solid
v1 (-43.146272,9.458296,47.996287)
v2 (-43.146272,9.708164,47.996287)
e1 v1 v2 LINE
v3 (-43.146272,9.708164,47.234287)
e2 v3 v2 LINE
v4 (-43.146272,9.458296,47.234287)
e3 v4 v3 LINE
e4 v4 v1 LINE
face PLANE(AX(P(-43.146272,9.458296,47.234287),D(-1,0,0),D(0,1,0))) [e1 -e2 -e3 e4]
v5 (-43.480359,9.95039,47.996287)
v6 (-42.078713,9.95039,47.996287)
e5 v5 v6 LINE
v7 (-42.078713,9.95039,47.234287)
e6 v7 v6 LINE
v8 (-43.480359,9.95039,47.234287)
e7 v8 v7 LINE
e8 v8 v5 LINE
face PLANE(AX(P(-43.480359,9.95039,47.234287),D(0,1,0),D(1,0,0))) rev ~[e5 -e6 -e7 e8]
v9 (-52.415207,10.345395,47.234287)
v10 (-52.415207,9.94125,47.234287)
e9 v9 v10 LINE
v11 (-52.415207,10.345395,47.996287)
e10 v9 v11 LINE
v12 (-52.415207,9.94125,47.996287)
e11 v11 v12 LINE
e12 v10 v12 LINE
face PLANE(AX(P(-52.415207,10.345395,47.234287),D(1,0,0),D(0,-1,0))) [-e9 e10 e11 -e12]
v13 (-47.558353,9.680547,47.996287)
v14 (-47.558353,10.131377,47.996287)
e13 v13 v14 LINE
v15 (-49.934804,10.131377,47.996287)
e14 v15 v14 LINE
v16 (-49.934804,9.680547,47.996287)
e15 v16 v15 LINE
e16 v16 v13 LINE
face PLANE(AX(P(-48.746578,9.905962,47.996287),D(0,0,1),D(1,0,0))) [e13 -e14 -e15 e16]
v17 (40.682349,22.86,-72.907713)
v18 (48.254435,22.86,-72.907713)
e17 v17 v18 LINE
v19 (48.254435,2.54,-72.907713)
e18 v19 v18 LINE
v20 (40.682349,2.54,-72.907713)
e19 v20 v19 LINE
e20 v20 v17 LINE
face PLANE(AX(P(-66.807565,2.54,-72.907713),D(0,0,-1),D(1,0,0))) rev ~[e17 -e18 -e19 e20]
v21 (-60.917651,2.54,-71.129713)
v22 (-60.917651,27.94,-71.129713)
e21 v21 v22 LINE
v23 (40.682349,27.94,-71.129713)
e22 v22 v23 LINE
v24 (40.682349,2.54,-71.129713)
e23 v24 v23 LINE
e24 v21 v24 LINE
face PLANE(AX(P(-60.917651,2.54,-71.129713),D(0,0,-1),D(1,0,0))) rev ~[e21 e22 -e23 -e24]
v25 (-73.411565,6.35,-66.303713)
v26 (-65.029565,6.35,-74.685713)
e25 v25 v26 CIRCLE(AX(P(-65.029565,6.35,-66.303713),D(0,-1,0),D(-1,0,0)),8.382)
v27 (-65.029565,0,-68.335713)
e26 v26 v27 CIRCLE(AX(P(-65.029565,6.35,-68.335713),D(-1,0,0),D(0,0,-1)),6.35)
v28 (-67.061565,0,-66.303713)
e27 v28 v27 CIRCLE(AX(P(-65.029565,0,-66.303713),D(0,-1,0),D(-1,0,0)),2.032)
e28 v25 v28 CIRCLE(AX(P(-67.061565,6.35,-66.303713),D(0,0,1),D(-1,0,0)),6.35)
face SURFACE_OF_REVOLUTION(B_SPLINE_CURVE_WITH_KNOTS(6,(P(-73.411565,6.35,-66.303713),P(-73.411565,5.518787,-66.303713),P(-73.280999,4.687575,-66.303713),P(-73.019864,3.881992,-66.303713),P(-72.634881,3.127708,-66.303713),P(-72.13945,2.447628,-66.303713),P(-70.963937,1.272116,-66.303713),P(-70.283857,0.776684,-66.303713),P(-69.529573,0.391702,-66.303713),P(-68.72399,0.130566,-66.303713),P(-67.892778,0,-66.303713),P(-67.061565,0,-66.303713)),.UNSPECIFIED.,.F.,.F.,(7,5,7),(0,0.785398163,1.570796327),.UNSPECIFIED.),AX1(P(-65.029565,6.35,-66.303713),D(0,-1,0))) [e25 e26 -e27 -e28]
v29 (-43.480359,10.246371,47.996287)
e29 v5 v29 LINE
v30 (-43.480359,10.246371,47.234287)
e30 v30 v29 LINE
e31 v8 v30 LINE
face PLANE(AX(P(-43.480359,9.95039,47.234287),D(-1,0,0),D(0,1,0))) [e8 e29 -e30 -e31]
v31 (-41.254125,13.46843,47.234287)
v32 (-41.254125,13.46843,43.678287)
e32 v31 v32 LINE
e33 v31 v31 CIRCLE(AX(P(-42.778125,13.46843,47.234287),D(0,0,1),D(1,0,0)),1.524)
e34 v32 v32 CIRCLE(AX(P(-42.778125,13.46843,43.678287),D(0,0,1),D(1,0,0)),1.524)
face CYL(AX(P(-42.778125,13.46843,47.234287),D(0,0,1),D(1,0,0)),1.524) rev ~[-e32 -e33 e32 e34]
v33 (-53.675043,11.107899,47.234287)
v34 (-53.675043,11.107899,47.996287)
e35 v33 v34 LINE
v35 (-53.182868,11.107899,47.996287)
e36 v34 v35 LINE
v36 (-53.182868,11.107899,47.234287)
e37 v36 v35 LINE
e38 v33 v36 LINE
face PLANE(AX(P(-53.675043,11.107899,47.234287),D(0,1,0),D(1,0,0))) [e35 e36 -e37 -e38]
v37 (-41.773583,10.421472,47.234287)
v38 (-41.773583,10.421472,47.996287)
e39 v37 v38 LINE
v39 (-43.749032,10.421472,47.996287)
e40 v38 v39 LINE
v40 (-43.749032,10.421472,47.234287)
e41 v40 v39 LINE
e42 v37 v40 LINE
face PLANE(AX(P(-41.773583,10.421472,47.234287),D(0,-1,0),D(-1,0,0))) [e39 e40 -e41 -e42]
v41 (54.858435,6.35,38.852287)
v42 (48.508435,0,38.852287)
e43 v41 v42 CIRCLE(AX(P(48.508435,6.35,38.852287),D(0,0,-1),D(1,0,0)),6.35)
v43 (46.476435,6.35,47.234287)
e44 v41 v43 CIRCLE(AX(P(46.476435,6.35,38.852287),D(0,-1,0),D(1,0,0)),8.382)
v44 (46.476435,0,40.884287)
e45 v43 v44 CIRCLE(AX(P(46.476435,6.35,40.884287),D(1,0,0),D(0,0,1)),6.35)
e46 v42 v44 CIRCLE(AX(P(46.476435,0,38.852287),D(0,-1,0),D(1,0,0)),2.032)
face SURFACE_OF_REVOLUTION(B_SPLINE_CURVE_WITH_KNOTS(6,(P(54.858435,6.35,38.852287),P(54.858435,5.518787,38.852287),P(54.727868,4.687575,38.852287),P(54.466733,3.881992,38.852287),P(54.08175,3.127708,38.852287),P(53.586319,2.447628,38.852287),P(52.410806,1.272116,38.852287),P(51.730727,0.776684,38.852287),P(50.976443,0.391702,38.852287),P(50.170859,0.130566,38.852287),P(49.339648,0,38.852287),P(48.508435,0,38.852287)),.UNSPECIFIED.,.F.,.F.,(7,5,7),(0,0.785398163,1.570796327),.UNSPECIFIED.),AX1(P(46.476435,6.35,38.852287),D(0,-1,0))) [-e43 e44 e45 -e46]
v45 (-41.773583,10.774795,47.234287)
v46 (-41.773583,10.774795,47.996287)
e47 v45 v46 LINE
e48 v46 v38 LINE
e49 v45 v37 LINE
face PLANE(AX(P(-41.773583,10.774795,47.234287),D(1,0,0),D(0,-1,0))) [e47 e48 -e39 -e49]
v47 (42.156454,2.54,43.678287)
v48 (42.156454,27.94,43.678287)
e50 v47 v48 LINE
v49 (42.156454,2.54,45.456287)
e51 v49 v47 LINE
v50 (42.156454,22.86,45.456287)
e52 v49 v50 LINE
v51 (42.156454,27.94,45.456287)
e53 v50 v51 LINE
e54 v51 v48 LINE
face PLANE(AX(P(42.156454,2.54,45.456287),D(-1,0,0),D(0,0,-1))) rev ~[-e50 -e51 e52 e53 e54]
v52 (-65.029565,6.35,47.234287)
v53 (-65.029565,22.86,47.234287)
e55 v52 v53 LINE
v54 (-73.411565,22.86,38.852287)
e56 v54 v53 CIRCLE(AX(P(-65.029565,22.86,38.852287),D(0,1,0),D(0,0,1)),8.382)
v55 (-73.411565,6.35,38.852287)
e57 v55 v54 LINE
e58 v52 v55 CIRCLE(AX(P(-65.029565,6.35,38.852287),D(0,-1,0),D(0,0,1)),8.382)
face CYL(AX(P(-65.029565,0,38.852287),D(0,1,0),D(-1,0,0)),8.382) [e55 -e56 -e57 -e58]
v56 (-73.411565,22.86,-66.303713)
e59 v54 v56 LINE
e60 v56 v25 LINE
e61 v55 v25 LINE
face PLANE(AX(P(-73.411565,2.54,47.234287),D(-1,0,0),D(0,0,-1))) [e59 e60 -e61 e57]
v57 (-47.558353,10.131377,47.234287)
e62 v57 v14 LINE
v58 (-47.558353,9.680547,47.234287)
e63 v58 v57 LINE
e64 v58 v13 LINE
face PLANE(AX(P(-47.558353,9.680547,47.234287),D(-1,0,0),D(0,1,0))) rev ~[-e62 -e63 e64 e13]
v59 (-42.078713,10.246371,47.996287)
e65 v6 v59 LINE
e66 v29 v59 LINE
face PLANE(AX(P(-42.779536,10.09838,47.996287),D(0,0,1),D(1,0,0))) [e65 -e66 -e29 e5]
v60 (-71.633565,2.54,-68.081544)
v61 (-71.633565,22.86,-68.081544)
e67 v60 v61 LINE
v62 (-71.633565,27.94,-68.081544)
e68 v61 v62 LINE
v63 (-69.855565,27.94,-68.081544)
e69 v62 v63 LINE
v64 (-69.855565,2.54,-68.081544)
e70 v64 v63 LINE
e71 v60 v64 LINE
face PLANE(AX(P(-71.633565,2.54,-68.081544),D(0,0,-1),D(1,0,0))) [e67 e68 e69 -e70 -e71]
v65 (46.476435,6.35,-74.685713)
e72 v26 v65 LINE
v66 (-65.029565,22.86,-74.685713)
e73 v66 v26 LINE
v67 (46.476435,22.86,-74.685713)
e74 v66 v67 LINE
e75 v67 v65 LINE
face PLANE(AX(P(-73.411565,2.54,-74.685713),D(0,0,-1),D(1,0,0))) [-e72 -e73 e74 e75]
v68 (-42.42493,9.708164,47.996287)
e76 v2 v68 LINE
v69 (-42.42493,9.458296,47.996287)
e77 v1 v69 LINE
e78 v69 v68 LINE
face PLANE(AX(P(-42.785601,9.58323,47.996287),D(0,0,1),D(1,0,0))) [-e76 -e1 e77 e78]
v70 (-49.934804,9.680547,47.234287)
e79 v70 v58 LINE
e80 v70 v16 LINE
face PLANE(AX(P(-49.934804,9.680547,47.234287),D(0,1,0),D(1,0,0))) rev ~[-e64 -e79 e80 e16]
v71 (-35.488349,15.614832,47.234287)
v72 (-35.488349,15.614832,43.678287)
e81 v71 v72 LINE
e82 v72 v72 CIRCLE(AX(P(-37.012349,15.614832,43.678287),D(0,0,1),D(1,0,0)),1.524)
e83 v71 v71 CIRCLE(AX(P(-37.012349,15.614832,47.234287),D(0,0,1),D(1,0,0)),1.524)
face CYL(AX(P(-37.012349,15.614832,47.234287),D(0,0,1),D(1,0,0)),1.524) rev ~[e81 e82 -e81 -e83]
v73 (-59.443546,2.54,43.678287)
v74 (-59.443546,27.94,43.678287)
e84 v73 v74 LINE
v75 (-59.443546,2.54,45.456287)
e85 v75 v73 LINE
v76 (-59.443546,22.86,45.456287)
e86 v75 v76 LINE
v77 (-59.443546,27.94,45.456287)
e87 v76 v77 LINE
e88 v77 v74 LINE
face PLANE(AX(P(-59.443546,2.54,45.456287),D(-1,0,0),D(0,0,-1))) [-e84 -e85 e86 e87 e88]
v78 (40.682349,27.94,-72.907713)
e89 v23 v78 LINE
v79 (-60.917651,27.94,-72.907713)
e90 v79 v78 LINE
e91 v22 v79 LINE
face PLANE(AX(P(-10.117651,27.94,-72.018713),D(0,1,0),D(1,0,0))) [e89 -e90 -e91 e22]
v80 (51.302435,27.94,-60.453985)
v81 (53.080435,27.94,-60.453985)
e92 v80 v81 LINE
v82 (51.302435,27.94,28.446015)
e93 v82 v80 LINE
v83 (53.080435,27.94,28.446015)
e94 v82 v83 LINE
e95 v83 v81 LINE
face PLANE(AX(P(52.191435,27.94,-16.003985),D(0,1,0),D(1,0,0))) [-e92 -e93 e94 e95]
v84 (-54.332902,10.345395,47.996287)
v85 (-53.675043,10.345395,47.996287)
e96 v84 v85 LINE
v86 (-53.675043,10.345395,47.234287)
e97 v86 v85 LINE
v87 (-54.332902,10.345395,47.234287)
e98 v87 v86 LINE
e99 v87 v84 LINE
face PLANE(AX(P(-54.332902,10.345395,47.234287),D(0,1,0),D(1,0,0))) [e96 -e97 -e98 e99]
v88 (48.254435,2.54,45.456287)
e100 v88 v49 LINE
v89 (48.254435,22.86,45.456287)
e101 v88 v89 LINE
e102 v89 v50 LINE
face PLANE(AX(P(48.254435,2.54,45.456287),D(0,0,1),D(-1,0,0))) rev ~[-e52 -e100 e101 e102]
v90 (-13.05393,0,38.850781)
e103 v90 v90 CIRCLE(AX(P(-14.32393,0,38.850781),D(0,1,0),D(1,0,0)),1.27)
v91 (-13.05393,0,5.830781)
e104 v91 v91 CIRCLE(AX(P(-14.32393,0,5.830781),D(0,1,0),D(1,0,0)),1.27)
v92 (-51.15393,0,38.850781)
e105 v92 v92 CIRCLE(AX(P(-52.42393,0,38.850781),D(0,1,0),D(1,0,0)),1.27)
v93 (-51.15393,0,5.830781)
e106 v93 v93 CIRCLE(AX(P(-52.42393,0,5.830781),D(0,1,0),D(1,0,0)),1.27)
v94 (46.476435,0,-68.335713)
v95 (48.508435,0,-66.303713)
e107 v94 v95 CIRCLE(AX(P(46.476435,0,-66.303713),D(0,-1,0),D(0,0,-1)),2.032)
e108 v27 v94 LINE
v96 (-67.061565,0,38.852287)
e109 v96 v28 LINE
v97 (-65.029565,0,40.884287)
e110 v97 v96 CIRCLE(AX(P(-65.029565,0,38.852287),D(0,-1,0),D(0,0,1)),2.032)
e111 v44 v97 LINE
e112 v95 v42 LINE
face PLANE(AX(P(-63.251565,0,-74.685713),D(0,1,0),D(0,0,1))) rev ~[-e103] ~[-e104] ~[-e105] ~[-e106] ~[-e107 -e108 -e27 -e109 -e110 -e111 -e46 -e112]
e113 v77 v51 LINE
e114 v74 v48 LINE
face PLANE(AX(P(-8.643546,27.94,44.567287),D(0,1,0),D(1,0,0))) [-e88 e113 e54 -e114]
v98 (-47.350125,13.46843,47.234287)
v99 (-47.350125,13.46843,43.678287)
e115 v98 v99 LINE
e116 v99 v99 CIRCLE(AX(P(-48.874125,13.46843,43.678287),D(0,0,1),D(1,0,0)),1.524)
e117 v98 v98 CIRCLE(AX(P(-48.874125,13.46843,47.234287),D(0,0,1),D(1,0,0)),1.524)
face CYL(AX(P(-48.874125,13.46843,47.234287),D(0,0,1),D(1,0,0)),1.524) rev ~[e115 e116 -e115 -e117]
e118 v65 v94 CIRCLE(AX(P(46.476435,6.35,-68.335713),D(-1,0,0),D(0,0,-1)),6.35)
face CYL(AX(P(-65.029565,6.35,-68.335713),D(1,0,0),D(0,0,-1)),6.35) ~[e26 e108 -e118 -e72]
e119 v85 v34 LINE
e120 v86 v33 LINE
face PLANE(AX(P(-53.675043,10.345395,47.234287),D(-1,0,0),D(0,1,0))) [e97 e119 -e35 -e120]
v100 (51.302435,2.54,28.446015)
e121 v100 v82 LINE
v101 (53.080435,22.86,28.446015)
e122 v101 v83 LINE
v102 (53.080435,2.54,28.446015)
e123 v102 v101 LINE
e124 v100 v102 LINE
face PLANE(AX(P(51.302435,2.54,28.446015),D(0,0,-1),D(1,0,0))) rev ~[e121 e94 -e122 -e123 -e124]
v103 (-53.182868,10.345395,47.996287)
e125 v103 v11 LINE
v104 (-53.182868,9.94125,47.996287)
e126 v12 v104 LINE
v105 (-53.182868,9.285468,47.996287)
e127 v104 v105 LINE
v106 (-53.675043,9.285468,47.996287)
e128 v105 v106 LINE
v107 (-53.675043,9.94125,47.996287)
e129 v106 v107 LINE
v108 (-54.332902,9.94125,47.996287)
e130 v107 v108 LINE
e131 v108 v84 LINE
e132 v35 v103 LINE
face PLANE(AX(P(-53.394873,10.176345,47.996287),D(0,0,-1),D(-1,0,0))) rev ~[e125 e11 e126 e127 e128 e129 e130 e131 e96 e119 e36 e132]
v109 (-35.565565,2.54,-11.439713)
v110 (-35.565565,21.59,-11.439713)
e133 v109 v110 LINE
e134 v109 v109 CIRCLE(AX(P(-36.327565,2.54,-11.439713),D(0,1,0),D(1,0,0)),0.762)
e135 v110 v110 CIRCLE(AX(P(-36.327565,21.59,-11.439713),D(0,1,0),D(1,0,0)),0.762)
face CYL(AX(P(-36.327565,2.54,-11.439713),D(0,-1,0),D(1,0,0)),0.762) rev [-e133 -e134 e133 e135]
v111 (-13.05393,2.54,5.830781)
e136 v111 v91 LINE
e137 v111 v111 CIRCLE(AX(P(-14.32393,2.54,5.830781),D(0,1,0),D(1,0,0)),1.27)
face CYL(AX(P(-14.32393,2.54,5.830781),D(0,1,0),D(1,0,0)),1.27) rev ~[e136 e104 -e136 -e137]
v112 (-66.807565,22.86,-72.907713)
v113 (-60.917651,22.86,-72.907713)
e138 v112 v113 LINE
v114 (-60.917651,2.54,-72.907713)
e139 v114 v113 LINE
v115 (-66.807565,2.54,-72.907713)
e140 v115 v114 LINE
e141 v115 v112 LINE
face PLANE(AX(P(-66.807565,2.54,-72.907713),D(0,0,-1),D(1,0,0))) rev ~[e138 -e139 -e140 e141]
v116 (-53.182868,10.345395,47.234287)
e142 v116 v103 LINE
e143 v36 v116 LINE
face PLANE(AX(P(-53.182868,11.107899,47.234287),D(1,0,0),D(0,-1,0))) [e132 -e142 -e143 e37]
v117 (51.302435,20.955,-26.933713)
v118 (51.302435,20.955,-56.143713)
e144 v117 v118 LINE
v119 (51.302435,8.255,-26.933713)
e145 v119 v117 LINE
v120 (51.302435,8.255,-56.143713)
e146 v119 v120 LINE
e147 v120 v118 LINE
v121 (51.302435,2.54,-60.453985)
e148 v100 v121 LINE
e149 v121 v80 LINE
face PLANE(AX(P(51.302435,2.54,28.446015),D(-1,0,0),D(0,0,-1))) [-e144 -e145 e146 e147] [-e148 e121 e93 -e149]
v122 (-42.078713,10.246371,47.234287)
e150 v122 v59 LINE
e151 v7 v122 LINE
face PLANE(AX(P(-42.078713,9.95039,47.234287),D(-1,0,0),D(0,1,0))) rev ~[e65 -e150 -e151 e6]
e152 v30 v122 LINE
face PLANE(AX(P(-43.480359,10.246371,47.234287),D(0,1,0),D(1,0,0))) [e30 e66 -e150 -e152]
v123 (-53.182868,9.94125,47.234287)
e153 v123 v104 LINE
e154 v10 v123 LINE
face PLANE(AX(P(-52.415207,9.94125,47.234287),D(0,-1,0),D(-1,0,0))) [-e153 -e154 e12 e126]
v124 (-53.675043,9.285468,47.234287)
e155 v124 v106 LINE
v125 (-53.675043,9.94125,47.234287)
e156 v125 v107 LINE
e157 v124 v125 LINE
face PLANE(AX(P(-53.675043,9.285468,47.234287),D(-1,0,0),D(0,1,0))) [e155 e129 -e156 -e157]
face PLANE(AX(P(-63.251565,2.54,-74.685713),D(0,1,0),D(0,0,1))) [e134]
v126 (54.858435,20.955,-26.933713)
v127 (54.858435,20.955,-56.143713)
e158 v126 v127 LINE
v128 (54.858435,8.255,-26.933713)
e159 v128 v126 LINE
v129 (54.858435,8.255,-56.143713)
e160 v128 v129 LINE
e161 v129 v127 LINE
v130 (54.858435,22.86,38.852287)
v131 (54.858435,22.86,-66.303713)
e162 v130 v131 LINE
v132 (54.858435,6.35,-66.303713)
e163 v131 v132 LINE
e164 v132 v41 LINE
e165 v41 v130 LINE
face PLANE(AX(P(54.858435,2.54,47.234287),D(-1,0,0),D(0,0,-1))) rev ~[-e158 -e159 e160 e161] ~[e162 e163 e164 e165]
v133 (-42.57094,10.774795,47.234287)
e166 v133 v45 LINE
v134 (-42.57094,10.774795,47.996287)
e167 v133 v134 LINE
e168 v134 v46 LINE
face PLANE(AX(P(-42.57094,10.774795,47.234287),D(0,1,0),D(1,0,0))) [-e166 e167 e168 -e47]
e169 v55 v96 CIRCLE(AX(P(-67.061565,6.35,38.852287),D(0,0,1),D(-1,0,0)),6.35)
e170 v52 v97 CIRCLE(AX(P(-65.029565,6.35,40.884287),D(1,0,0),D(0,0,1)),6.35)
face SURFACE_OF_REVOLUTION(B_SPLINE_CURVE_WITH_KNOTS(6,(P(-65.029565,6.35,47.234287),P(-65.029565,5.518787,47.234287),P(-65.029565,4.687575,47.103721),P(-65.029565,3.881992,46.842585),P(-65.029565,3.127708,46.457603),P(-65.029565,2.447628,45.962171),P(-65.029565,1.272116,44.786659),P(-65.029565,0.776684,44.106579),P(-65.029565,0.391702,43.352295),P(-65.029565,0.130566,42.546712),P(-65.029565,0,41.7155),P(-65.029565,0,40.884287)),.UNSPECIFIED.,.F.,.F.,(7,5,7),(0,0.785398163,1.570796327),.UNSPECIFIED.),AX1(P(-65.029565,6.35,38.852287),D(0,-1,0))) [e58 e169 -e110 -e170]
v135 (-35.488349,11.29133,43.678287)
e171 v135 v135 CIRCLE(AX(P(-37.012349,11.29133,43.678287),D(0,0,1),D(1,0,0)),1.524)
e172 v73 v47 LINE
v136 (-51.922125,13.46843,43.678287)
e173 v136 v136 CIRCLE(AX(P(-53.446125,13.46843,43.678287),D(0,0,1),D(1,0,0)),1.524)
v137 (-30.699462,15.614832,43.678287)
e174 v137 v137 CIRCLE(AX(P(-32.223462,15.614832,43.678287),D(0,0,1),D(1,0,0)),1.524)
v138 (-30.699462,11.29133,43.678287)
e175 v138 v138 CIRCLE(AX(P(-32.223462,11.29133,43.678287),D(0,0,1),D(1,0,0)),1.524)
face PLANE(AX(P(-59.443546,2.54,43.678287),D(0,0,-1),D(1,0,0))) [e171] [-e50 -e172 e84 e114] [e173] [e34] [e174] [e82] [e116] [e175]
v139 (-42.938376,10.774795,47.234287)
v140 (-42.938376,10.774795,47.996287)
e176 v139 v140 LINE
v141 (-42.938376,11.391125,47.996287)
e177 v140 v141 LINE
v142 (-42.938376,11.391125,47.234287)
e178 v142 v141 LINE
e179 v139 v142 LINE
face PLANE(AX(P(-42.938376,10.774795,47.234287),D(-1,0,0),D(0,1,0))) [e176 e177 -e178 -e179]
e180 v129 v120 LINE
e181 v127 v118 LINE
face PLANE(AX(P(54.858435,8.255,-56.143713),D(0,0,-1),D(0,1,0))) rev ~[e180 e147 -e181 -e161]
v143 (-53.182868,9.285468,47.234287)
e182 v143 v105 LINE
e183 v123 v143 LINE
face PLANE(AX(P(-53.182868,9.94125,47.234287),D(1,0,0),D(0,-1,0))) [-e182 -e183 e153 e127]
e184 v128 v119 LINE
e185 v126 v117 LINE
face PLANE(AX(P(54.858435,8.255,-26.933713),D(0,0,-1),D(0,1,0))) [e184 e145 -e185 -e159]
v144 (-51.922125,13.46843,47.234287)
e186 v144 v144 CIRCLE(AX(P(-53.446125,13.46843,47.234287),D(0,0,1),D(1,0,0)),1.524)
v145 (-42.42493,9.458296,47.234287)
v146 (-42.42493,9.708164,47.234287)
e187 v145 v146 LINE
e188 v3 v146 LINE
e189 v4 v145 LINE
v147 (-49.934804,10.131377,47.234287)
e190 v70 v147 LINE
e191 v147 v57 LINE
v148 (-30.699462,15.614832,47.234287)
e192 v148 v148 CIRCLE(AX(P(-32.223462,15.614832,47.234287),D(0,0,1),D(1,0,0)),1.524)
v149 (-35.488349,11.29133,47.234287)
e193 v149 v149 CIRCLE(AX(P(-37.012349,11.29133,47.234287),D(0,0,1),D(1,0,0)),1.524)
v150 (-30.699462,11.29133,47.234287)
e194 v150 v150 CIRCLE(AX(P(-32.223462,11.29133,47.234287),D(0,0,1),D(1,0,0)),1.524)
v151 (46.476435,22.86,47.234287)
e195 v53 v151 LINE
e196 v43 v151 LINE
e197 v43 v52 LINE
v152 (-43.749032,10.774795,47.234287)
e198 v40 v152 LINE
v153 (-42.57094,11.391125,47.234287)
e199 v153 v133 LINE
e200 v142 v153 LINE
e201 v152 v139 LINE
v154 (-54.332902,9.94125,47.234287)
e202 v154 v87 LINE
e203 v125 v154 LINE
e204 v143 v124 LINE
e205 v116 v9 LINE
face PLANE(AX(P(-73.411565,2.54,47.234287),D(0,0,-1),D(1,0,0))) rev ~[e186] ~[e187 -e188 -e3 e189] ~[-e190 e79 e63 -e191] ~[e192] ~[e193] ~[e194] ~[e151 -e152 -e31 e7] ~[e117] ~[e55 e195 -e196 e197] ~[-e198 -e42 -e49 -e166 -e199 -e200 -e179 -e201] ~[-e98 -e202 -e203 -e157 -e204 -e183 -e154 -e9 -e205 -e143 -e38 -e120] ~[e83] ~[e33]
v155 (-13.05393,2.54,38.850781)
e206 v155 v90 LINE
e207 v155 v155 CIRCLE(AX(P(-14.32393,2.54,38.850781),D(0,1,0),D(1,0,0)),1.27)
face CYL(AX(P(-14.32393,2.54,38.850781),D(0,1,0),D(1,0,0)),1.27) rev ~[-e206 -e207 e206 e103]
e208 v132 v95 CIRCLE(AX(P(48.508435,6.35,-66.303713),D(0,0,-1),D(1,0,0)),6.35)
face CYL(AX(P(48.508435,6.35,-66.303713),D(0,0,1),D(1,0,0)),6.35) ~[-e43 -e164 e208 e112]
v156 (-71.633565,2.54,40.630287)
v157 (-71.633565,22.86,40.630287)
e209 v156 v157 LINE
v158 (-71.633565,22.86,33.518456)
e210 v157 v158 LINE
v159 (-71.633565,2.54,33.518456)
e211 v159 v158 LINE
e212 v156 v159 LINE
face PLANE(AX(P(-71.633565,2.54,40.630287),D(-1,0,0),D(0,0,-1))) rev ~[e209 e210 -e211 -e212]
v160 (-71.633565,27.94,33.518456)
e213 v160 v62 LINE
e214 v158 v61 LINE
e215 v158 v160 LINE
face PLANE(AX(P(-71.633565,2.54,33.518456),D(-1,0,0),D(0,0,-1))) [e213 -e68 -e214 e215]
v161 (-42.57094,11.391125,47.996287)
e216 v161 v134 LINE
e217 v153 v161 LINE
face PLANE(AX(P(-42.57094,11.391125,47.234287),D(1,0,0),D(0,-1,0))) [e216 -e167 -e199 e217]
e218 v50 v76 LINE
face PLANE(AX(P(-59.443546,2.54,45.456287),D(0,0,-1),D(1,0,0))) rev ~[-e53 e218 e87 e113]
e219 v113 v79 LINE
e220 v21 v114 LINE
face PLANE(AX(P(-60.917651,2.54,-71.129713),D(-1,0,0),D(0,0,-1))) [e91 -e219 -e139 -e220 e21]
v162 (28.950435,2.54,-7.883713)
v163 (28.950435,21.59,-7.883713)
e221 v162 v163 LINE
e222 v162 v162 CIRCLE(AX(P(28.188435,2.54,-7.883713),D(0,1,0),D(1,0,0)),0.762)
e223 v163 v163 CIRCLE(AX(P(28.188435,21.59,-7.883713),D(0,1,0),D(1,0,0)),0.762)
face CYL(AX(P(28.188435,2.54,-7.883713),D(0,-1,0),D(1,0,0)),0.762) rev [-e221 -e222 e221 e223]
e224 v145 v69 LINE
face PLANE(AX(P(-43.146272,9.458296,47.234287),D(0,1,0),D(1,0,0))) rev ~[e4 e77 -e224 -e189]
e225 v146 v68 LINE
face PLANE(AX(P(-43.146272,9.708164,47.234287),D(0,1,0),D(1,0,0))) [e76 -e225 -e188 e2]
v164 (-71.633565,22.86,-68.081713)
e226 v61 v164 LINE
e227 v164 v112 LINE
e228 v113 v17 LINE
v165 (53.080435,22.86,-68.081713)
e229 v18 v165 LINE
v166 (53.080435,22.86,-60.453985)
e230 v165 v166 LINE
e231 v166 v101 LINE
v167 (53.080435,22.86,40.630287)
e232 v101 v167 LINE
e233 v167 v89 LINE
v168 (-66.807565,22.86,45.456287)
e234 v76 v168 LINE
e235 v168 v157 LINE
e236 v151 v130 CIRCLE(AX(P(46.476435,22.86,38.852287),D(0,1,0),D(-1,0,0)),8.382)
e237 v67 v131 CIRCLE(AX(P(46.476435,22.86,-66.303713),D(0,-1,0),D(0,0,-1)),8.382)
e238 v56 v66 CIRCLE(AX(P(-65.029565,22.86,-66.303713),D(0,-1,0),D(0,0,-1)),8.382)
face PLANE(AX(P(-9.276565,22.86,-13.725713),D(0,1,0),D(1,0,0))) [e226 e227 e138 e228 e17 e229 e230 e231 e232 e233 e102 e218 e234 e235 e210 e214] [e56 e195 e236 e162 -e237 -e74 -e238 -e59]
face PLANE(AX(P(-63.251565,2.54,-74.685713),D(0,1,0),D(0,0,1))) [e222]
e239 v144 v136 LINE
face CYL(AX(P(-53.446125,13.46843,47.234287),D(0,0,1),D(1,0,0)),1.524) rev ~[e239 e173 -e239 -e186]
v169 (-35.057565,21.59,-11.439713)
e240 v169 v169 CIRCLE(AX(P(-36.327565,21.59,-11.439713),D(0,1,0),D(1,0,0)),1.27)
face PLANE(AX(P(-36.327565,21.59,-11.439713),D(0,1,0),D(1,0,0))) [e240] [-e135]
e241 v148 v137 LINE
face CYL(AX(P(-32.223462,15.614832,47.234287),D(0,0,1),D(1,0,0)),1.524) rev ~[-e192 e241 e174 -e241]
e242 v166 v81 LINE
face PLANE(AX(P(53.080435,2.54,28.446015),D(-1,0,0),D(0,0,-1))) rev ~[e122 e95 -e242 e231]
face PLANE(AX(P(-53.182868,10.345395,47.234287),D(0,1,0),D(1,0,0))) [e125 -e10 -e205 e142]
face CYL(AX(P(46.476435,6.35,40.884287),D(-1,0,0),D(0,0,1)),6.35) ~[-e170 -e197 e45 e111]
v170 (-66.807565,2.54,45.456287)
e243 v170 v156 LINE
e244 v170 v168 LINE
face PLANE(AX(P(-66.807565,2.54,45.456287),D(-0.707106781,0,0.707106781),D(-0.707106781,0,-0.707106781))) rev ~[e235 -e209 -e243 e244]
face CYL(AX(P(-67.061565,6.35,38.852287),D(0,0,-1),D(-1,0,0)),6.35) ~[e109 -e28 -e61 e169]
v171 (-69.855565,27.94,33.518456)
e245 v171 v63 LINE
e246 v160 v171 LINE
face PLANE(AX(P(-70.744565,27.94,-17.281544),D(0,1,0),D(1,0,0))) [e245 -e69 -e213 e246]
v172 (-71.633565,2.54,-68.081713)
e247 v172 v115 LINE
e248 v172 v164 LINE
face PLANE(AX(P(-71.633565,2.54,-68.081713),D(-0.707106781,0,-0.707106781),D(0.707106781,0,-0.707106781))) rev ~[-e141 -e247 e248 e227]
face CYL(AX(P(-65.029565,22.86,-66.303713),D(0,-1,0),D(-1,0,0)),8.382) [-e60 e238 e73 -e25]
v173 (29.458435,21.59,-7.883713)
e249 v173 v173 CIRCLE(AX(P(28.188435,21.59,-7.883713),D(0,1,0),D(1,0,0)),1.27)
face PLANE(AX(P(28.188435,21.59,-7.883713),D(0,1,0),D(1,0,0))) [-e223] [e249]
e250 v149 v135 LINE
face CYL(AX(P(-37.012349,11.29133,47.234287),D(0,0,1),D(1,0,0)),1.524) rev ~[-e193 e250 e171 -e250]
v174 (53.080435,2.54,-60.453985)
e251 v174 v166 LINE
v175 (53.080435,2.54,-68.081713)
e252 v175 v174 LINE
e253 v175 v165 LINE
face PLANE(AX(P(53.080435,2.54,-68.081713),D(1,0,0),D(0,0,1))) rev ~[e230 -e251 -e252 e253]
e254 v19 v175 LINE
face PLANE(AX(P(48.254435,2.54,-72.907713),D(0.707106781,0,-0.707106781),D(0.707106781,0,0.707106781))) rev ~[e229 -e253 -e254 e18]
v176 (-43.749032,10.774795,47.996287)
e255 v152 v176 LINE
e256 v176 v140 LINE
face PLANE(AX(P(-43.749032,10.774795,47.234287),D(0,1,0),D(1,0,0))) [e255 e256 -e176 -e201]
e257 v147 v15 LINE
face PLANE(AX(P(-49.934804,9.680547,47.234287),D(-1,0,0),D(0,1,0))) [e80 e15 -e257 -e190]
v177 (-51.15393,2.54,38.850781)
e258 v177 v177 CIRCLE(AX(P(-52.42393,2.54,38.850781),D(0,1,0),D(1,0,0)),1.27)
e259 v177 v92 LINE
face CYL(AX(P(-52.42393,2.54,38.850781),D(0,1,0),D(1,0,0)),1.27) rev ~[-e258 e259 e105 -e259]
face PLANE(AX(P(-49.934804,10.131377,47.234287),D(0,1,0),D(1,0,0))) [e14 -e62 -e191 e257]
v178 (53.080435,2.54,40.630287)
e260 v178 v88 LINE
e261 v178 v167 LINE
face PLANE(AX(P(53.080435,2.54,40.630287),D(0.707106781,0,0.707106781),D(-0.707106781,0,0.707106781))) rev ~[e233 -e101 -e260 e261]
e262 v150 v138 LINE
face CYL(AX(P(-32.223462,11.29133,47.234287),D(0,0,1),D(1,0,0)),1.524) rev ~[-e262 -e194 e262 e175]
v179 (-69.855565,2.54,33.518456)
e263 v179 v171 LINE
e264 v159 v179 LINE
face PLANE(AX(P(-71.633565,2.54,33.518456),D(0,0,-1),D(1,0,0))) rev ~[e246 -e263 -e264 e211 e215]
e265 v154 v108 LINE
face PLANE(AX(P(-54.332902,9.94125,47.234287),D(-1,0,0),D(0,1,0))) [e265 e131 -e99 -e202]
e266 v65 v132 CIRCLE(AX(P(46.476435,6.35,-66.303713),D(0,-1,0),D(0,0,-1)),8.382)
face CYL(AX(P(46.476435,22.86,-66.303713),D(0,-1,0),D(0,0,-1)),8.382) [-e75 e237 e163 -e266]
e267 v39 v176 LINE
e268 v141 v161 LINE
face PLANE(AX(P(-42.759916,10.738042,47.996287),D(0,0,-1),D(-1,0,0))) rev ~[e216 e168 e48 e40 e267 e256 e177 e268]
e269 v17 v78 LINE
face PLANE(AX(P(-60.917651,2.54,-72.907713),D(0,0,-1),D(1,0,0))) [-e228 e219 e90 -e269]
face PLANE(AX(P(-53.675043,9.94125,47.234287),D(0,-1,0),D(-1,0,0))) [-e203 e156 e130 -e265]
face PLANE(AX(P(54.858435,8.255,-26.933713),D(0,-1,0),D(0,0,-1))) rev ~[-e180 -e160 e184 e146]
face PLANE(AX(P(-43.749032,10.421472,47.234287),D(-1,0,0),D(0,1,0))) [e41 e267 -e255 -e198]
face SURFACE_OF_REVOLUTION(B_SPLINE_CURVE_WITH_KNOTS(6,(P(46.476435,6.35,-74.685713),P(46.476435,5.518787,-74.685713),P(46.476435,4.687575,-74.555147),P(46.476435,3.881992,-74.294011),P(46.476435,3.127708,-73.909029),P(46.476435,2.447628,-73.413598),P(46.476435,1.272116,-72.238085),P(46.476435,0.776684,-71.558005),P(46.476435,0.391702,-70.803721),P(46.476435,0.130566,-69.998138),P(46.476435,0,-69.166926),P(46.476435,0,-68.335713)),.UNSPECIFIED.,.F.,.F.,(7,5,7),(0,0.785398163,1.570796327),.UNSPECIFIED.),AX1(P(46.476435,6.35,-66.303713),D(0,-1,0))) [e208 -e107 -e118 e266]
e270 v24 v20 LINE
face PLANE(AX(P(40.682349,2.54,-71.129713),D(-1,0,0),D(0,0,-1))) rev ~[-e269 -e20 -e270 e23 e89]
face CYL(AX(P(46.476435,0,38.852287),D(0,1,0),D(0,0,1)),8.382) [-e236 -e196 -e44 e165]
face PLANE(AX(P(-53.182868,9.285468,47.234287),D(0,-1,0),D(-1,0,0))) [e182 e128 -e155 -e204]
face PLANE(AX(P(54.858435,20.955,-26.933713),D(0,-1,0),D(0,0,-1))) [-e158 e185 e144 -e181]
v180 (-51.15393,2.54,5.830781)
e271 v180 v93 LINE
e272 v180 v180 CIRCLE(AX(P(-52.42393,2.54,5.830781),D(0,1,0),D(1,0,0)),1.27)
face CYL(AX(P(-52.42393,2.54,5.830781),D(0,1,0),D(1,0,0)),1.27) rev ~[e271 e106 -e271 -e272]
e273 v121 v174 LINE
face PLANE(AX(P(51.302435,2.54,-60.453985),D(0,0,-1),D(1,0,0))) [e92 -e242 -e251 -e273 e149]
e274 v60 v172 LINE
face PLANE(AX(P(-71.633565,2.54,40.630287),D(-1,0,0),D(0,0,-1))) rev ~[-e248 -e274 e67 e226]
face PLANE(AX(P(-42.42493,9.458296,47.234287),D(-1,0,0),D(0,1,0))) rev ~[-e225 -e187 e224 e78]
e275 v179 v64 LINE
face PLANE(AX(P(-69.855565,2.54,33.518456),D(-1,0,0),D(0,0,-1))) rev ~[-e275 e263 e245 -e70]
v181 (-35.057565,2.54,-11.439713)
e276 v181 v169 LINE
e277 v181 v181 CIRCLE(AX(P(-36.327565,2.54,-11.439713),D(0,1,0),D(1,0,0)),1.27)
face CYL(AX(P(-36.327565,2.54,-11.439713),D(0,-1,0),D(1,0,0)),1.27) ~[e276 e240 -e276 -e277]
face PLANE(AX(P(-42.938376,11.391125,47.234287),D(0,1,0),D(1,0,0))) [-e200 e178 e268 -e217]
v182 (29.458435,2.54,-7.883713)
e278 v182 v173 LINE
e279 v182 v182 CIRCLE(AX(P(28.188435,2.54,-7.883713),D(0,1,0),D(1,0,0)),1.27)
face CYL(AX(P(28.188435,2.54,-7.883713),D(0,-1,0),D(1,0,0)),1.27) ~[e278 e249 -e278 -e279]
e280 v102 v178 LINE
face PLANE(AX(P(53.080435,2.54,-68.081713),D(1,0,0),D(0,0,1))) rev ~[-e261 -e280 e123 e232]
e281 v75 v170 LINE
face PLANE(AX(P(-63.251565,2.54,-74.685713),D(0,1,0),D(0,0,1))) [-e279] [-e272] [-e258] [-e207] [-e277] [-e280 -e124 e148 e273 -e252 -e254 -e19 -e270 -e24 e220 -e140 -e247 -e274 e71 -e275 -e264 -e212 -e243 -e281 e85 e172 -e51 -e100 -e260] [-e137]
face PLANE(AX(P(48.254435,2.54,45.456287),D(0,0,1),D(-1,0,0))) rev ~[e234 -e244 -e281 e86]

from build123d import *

# Parameters (mm, degrees)
SKETCH1_W            = 107.95
SKETCH1_H            = 101.6
BOSS_EXTRUDE1_DEPTH  = 2.54
SKETCH17_W           = 107.95
SKETCH17_H           = 2.54
BOSS_EXTRUDE11_DEPTH = 10.16
SKETCH20_W           = 111.76
SKETCH20_H           = 2.54
BOSS_EXTRUDE12_DEPTH = 10.16
SKETCH21_W           = 118.11
SKETCH21_H           = 2.54
BOSS_EXTRUDE13_DEPTH = 10.16
SKETCH22_W           = 121.92
SKETCH22_H           = 2.54
BOSS_EXTRUDE14_DEPTH = 10.16
SKETCH26_W           = 128.27
SKETCH26_H           = 121.92
BOSS_EXTRUDE18_DEPTH = 20.32
FILLET9_R            = 8.382
FILLET10_R           = 8.382
FILLET11_R           = 8.382
SKETCH28_W           = 101.6
SKETCH28_H           = 1.778
BOSS_EXTRUDE21_DEPTH = 25.4
SKETCH29_W           = 1.778
SKETCH29_H           = 88.9
BOSS_EXTRUDE22_DEPTH = 25.4
FILLET21_R           = 8.382
SKETCH30_W           = 101.6
SKETCH30_H           = 1.778
BOSS_EXTRUDE23_DEPTH = 25.4
SKETCH31_W           = 1.778
SKETCH31_H           = 101.6
BOSS_EXTRUDE24_DEPTH = 25.4
SKETCH32_R           = 1.524
CUT_EXTRUDE1_DEPTH   = 3.556
FILLET22_R           = 6.35
SKETCH34_W           = 2.376451265
SKETCH34_H           = 0.450830227
BOSS_EXTRUDE26_DEPTH = 0.762
BOSS_EXTRUDE27_DEPTH = 0.762
BOSS_EXTRUDE28_DEPTH = 0.762
SKETCH37_W           = 1.40164535
SKETCH37_H           = 0.295981153
BOSS_EXTRUDE29_DEPTH = 0.762
SKETCH38_W           = 0.721341472
SKETCH38_H           = 0.249868222
BOSS_EXTRUDE30_DEPTH = 0.762
SKETCH4_R            = 1.27
SKETCH4_R_2          = 0.762
BOSS_EXTRUDE31_DEPTH = 19.05
SKETCH40_R           = 1.524
CUT_EXTRUDE2_DEPTH   = 3.556
SKETCH42_W           = 29.21
SKETCH42_H           = 12.7
CUT_EXTRUDE3_DEPTH   = 3.556
SKETCH43_R           = 1.27
CUT_EXTRUDE4_DEPTH   = 2.54


with BuildPart() as part:
    # Sketch1 → Boss-Extrude1 (new body)
    with BuildSketch(Plane(origin=(0, 0, 0), x_dir=(1, 0, 0), z_dir=(0, 1, 0))):
        with Locations((-9.276565374, 13.725713086)):
            Rectangle(SKETCH1_W, SKETCH1_H)
    extrude(amount=BOSS_EXTRUDE1_DEPTH)

    # Sketch17 → Boss-Extrude11 (add)
    with BuildSketch(Plane(origin=(0, 0, -64.525713086), x_dir=(-1, 0, 0), z_dir=(0, 0, -1))):
        with Locations((9.276565374, 1.27)):
            Rectangle(SKETCH17_W, SKETCH17_H)
    extrude(amount=BOSS_EXTRUDE11_DEPTH)

    # Sketch20 → Boss-Extrude12 (add)
    with BuildSketch(Plane(origin=(44.698434626, 0, 0), x_dir=(0, 0, -1), z_dir=(1, 0, 0))):
        with Locations((18.805713086, 1.27)):
            Rectangle(SKETCH20_W, SKETCH20_H)
    extrude(amount=BOSS_EXTRUDE12_DEPTH)

    # Sketch21 → Boss-Extrude13 (add)
    with BuildSketch(Plane.XY.offset(37.074286914)):
        with Locations((-4.196565374, 1.27)):
            Rectangle(SKETCH21_W, SKETCH21_H)
    extrude(amount=BOSS_EXTRUDE13_DEPTH)

    # Sketch22 → Boss-Extrude14 (add)
    with BuildSketch(Plane.ZY.offset(63.251565374)):
        with Locations((-13.725713086, 1.27)):
            Rectangle(SKETCH22_W, SKETCH22_H)
    extrude(amount=BOSS_EXTRUDE14_DEPTH)

    # Sketch26 → Boss-Extrude18 (add)
    with BuildSketch(Plane(origin=(0, 2.54, 0), x_dir=(1, 0, 0), z_dir=(0, 1, 0))):
        with Locations((-9.276565374, 13.725713086)):
            Rectangle(SKETCH26_W, SKETCH26_H)
        Polygon((42.711561077, -45.456286914), (-66.807565374, -45.456286914), (-71.633565374, -40.630286914), (-71.633565374, -37.536996118), (-71.633565374, 66.303713086), (-71.633565374, 68.081713086), (-66.807565374, 72.907713086), (-62.278091081, 72.907713086), (48.254434626, 72.907713086), (53.080434626, 68.081713086), (53.080434626, -38.852286914), (53.080434626, -40.630286914), (48.254434626, -45.456286914), align=None, mode=Mode.SUBTRACT)
    extrude(amount=BOSS_EXTRUDE18_DEPTH)

    # Fillet9
    fillet9_edges = [part.edges().sort_by_distance(p)[0] for p in [
        (-73.411565374, 11.43, 47.234286914),
    ]]
    fillet(fillet9_edges, radius=FILLET9_R)

    # Fillet10
    fillet10_edges = [part.edges().sort_by_distance(p)[0] for p in [
        (54.858434626, 11.43, 47.234286914),
    ]]
    fillet(fillet10_edges, radius=FILLET10_R)

    # Fillet11
    fillet11_edges = [part.edges().sort_by_distance(p)[0] for p in [
        (-73.411565374, 11.43, -74.685713086),
    ]]
    fillet(fillet11_edges, radius=FILLET11_R)

    # Sketch28 → Boss-Extrude21 (add)
    with BuildSketch(Plane(origin=(0, 2.54, 0), x_dir=(1, 0, 0), z_dir=(0, 1, 0))):
        with Locations((-8.643546278, -44.567286914)):
            Rectangle(SKETCH28_W, SKETCH28_H)
    extrude(amount=BOSS_EXTRUDE21_DEPTH)

    # Sketch29 → Boss-Extrude22 (add)
    with BuildSketch(Plane(origin=(0, 2.54, 0), x_dir=(1, 0, 0), z_dir=(0, 1, 0))):
        with Locations((52.191434626, 16.003984914)):
            Rectangle(SKETCH29_W, SKETCH29_H)
    extrude(amount=BOSS_EXTRUDE22_DEPTH)

    # Fillet21
    fillet21_edges = [part.edges().sort_by_distance(p)[0] for p in [
        (54.858434626, 11.43, -74.685713086),
    ]]
    fillet(fillet21_edges, radius=FILLET21_R)

    # Sketch30 → Boss-Extrude23 (add)
    with BuildSketch(Plane(origin=(0, 2.54, 0), x_dir=(1, 0, 0), z_dir=(0, 1, 0))):
        with Locations((-10.117650569, 72.018713086)):
            Rectangle(SKETCH30_W, SKETCH30_H)
    extrude(amount=BOSS_EXTRUDE23_DEPTH)

    # Sketch31 → Boss-Extrude24 (add)
    with BuildSketch(Plane(origin=(0, 2.54, 0), x_dir=(1, 0, 0), z_dir=(0, 1, 0))):
        with Locations((-70.744565374, 17.281544489)):
            Rectangle(SKETCH31_W, SKETCH31_H)
    extrude(amount=BOSS_EXTRUDE24_DEPTH)

    # Sketch32 → Cut-Extrude1 (cut)
    with BuildSketch(Plane.XY.offset(47.234286914)):
        with Locations((-53.446124862, 13.468430173)):
            Circle(SKETCH32_R)
        with Locations((-48.874124862, 13.468430173)):
            Circle(SKETCH32_R)
        with Locations((-42.778124862, 13.468430173)):
            Circle(SKETCH32_R)
    extrude(amount=-CUT_EXTRUDE1_DEPTH, mode=Mode.SUBTRACT)

    # Fillet22
    fillet22_edges = [part.edges().sort_by_distance(p)[0] for p in [
        (-9.276565374, 0, 47.234286914),
        (-70.956534413, 0, 44.779255954),
        (54.858434626, 0, -13.725713086),
        (52.403403666, 0, 44.779255954),
        (-73.411565374, 0, -13.725713086),
        (-70.956534413, 0, -72.230682126),
        (-9.276565374, 0, -74.685713086),
        (52.403403666, 0, -72.230682126),
    ]]
    fillet(fillet22_edges, radius=FILLET22_R)

    # Sketch34 → Boss-Extrude26 (add)
    with BuildSketch(Plane.XY.offset(47.234286914)):
        with Locations((-48.746578478, 9.905961703)):
            Rectangle(SKETCH34_W, SKETCH34_H)
    extrude(amount=BOSS_EXTRUDE26_DEPTH)

    # Sketch35 → Boss-Extrude27 (add)
    with BuildSketch(Plane.XY.offset(47.234286914)):
        Polygon((-53.675043022, 11.10789921), (-53.182867877, 11.10789921), (-53.182867877, 10.345394629), (-52.415207401, 10.345394629), (-52.415207401, 9.941250014), (-53.182867877, 9.941250014), (-53.182867877, 9.28546766), (-53.675043022, 9.28546766), (-53.675043022, 9.941250014), (-54.332901543, 9.941250014), (-54.332901543, 10.345394629), (-53.675043022, 10.345394629), align=None)
    extrude(amount=BOSS_EXTRUDE27_DEPTH)

    # Sketch36 → Boss-Extrude28 (add)
    with BuildSketch(Plane.XY.offset(47.234286914)):
        Polygon((-42.938376237, 10.774794696), (-42.938376237, 11.391124792), (-42.570939626, 11.391124792), (-42.570939626, 10.774794696), (-41.773582858, 10.774794696), (-41.773582858, 10.421472403), (-43.74903155, 10.421472403), (-43.74903155, 10.774794696), align=None)
    extrude(amount=BOSS_EXTRUDE28_DEPTH)

    # Sketch37 → Boss-Extrude29 (add)
    with BuildSketch(Plane.XY.offset(47.234286914)):
        with Locations((-42.779535982, 10.098380285)):
            Rectangle(SKETCH37_W, SKETCH37_H)
    extrude(amount=BOSS_EXTRUDE29_DEPTH)

    # Sketch38 → Boss-Extrude30 (add)
    with BuildSketch(Plane.XY.offset(47.234286914)):
        with Locations((-42.785601146, 9.583230105)):
            Rectangle(SKETCH38_W, SKETCH38_H)
    extrude(amount=BOSS_EXTRUDE30_DEPTH)

    # Sketch4 → Boss-Extrude31 (add)
    with BuildSketch(Plane(origin=(0, 2.54, 0), x_dir=(1, 0, 0), z_dir=(0, 1, 0))):
        with Locations((-36.327565374, 11.439713086)):
            Circle(SKETCH4_R)
        with Locations((-36.327565374, 11.439713086)):
            Circle(SKETCH4_R_2, mode=Mode.SUBTRACT)
        with Locations((28.188434626, 7.883713086)):
            Circle(SKETCH4_R)
        with Locations((28.188434626, 7.883713086)):
            Circle(SKETCH4_R_2, mode=Mode.SUBTRACT)
    extrude(amount=BOSS_EXTRUDE31_DEPTH)

    # Sketch40 → Cut-Extrude2 (cut)
    with BuildSketch(Plane.XY.offset(47.234286914)):
        with Locations((-37.012349316, 15.614831818)):
            Circle(SKETCH40_R)
        with Locations((-32.223462278, 15.614831818)):
            Circle(SKETCH40_R)
        with Locations((-37.012349316, 11.291329779)):
            Circle(SKETCH40_R)
        with Locations((-32.223462278, 11.291329779)):
            Circle(SKETCH40_R)
    extrude(amount=-CUT_EXTRUDE2_DEPTH, mode=Mode.SUBTRACT)

    # Sketch42 → Cut-Extrude3 (cut)
    with BuildSketch(Plane(origin=(54.858434626, 0, 0), x_dir=(0, 0, -1), z_dir=(1, 0, 0))):
        with Locations((41.538713086, 14.605)):
            Rectangle(SKETCH42_W, SKETCH42_H)
    extrude(amount=-CUT_EXTRUDE3_DEPTH, mode=Mode.SUBTRACT)

    # Sketch43 → Cut-Extrude4 (cut)
    with BuildSketch(Plane(origin=(0, 2.54, 0), x_dir=(1, 0, 0), z_dir=(0, 1, 0))):
        with Locations((-14.323930267, -5.830780993)):
            Circle(SKETCH43_R)
        with Locations((-52.423930267, -5.830780993)):
            Circle(SKETCH43_R)
        with Locations((-52.423930267, -38.850780993)):
            Circle(SKETCH43_R)
        with Locations((-14.323930267, -38.850780993)):
            Circle(SKETCH43_R)
    extrude(amount=-CUT_EXTRUDE4_DEPTH, mode=Mode.SUBTRACT)


solid = part.part
